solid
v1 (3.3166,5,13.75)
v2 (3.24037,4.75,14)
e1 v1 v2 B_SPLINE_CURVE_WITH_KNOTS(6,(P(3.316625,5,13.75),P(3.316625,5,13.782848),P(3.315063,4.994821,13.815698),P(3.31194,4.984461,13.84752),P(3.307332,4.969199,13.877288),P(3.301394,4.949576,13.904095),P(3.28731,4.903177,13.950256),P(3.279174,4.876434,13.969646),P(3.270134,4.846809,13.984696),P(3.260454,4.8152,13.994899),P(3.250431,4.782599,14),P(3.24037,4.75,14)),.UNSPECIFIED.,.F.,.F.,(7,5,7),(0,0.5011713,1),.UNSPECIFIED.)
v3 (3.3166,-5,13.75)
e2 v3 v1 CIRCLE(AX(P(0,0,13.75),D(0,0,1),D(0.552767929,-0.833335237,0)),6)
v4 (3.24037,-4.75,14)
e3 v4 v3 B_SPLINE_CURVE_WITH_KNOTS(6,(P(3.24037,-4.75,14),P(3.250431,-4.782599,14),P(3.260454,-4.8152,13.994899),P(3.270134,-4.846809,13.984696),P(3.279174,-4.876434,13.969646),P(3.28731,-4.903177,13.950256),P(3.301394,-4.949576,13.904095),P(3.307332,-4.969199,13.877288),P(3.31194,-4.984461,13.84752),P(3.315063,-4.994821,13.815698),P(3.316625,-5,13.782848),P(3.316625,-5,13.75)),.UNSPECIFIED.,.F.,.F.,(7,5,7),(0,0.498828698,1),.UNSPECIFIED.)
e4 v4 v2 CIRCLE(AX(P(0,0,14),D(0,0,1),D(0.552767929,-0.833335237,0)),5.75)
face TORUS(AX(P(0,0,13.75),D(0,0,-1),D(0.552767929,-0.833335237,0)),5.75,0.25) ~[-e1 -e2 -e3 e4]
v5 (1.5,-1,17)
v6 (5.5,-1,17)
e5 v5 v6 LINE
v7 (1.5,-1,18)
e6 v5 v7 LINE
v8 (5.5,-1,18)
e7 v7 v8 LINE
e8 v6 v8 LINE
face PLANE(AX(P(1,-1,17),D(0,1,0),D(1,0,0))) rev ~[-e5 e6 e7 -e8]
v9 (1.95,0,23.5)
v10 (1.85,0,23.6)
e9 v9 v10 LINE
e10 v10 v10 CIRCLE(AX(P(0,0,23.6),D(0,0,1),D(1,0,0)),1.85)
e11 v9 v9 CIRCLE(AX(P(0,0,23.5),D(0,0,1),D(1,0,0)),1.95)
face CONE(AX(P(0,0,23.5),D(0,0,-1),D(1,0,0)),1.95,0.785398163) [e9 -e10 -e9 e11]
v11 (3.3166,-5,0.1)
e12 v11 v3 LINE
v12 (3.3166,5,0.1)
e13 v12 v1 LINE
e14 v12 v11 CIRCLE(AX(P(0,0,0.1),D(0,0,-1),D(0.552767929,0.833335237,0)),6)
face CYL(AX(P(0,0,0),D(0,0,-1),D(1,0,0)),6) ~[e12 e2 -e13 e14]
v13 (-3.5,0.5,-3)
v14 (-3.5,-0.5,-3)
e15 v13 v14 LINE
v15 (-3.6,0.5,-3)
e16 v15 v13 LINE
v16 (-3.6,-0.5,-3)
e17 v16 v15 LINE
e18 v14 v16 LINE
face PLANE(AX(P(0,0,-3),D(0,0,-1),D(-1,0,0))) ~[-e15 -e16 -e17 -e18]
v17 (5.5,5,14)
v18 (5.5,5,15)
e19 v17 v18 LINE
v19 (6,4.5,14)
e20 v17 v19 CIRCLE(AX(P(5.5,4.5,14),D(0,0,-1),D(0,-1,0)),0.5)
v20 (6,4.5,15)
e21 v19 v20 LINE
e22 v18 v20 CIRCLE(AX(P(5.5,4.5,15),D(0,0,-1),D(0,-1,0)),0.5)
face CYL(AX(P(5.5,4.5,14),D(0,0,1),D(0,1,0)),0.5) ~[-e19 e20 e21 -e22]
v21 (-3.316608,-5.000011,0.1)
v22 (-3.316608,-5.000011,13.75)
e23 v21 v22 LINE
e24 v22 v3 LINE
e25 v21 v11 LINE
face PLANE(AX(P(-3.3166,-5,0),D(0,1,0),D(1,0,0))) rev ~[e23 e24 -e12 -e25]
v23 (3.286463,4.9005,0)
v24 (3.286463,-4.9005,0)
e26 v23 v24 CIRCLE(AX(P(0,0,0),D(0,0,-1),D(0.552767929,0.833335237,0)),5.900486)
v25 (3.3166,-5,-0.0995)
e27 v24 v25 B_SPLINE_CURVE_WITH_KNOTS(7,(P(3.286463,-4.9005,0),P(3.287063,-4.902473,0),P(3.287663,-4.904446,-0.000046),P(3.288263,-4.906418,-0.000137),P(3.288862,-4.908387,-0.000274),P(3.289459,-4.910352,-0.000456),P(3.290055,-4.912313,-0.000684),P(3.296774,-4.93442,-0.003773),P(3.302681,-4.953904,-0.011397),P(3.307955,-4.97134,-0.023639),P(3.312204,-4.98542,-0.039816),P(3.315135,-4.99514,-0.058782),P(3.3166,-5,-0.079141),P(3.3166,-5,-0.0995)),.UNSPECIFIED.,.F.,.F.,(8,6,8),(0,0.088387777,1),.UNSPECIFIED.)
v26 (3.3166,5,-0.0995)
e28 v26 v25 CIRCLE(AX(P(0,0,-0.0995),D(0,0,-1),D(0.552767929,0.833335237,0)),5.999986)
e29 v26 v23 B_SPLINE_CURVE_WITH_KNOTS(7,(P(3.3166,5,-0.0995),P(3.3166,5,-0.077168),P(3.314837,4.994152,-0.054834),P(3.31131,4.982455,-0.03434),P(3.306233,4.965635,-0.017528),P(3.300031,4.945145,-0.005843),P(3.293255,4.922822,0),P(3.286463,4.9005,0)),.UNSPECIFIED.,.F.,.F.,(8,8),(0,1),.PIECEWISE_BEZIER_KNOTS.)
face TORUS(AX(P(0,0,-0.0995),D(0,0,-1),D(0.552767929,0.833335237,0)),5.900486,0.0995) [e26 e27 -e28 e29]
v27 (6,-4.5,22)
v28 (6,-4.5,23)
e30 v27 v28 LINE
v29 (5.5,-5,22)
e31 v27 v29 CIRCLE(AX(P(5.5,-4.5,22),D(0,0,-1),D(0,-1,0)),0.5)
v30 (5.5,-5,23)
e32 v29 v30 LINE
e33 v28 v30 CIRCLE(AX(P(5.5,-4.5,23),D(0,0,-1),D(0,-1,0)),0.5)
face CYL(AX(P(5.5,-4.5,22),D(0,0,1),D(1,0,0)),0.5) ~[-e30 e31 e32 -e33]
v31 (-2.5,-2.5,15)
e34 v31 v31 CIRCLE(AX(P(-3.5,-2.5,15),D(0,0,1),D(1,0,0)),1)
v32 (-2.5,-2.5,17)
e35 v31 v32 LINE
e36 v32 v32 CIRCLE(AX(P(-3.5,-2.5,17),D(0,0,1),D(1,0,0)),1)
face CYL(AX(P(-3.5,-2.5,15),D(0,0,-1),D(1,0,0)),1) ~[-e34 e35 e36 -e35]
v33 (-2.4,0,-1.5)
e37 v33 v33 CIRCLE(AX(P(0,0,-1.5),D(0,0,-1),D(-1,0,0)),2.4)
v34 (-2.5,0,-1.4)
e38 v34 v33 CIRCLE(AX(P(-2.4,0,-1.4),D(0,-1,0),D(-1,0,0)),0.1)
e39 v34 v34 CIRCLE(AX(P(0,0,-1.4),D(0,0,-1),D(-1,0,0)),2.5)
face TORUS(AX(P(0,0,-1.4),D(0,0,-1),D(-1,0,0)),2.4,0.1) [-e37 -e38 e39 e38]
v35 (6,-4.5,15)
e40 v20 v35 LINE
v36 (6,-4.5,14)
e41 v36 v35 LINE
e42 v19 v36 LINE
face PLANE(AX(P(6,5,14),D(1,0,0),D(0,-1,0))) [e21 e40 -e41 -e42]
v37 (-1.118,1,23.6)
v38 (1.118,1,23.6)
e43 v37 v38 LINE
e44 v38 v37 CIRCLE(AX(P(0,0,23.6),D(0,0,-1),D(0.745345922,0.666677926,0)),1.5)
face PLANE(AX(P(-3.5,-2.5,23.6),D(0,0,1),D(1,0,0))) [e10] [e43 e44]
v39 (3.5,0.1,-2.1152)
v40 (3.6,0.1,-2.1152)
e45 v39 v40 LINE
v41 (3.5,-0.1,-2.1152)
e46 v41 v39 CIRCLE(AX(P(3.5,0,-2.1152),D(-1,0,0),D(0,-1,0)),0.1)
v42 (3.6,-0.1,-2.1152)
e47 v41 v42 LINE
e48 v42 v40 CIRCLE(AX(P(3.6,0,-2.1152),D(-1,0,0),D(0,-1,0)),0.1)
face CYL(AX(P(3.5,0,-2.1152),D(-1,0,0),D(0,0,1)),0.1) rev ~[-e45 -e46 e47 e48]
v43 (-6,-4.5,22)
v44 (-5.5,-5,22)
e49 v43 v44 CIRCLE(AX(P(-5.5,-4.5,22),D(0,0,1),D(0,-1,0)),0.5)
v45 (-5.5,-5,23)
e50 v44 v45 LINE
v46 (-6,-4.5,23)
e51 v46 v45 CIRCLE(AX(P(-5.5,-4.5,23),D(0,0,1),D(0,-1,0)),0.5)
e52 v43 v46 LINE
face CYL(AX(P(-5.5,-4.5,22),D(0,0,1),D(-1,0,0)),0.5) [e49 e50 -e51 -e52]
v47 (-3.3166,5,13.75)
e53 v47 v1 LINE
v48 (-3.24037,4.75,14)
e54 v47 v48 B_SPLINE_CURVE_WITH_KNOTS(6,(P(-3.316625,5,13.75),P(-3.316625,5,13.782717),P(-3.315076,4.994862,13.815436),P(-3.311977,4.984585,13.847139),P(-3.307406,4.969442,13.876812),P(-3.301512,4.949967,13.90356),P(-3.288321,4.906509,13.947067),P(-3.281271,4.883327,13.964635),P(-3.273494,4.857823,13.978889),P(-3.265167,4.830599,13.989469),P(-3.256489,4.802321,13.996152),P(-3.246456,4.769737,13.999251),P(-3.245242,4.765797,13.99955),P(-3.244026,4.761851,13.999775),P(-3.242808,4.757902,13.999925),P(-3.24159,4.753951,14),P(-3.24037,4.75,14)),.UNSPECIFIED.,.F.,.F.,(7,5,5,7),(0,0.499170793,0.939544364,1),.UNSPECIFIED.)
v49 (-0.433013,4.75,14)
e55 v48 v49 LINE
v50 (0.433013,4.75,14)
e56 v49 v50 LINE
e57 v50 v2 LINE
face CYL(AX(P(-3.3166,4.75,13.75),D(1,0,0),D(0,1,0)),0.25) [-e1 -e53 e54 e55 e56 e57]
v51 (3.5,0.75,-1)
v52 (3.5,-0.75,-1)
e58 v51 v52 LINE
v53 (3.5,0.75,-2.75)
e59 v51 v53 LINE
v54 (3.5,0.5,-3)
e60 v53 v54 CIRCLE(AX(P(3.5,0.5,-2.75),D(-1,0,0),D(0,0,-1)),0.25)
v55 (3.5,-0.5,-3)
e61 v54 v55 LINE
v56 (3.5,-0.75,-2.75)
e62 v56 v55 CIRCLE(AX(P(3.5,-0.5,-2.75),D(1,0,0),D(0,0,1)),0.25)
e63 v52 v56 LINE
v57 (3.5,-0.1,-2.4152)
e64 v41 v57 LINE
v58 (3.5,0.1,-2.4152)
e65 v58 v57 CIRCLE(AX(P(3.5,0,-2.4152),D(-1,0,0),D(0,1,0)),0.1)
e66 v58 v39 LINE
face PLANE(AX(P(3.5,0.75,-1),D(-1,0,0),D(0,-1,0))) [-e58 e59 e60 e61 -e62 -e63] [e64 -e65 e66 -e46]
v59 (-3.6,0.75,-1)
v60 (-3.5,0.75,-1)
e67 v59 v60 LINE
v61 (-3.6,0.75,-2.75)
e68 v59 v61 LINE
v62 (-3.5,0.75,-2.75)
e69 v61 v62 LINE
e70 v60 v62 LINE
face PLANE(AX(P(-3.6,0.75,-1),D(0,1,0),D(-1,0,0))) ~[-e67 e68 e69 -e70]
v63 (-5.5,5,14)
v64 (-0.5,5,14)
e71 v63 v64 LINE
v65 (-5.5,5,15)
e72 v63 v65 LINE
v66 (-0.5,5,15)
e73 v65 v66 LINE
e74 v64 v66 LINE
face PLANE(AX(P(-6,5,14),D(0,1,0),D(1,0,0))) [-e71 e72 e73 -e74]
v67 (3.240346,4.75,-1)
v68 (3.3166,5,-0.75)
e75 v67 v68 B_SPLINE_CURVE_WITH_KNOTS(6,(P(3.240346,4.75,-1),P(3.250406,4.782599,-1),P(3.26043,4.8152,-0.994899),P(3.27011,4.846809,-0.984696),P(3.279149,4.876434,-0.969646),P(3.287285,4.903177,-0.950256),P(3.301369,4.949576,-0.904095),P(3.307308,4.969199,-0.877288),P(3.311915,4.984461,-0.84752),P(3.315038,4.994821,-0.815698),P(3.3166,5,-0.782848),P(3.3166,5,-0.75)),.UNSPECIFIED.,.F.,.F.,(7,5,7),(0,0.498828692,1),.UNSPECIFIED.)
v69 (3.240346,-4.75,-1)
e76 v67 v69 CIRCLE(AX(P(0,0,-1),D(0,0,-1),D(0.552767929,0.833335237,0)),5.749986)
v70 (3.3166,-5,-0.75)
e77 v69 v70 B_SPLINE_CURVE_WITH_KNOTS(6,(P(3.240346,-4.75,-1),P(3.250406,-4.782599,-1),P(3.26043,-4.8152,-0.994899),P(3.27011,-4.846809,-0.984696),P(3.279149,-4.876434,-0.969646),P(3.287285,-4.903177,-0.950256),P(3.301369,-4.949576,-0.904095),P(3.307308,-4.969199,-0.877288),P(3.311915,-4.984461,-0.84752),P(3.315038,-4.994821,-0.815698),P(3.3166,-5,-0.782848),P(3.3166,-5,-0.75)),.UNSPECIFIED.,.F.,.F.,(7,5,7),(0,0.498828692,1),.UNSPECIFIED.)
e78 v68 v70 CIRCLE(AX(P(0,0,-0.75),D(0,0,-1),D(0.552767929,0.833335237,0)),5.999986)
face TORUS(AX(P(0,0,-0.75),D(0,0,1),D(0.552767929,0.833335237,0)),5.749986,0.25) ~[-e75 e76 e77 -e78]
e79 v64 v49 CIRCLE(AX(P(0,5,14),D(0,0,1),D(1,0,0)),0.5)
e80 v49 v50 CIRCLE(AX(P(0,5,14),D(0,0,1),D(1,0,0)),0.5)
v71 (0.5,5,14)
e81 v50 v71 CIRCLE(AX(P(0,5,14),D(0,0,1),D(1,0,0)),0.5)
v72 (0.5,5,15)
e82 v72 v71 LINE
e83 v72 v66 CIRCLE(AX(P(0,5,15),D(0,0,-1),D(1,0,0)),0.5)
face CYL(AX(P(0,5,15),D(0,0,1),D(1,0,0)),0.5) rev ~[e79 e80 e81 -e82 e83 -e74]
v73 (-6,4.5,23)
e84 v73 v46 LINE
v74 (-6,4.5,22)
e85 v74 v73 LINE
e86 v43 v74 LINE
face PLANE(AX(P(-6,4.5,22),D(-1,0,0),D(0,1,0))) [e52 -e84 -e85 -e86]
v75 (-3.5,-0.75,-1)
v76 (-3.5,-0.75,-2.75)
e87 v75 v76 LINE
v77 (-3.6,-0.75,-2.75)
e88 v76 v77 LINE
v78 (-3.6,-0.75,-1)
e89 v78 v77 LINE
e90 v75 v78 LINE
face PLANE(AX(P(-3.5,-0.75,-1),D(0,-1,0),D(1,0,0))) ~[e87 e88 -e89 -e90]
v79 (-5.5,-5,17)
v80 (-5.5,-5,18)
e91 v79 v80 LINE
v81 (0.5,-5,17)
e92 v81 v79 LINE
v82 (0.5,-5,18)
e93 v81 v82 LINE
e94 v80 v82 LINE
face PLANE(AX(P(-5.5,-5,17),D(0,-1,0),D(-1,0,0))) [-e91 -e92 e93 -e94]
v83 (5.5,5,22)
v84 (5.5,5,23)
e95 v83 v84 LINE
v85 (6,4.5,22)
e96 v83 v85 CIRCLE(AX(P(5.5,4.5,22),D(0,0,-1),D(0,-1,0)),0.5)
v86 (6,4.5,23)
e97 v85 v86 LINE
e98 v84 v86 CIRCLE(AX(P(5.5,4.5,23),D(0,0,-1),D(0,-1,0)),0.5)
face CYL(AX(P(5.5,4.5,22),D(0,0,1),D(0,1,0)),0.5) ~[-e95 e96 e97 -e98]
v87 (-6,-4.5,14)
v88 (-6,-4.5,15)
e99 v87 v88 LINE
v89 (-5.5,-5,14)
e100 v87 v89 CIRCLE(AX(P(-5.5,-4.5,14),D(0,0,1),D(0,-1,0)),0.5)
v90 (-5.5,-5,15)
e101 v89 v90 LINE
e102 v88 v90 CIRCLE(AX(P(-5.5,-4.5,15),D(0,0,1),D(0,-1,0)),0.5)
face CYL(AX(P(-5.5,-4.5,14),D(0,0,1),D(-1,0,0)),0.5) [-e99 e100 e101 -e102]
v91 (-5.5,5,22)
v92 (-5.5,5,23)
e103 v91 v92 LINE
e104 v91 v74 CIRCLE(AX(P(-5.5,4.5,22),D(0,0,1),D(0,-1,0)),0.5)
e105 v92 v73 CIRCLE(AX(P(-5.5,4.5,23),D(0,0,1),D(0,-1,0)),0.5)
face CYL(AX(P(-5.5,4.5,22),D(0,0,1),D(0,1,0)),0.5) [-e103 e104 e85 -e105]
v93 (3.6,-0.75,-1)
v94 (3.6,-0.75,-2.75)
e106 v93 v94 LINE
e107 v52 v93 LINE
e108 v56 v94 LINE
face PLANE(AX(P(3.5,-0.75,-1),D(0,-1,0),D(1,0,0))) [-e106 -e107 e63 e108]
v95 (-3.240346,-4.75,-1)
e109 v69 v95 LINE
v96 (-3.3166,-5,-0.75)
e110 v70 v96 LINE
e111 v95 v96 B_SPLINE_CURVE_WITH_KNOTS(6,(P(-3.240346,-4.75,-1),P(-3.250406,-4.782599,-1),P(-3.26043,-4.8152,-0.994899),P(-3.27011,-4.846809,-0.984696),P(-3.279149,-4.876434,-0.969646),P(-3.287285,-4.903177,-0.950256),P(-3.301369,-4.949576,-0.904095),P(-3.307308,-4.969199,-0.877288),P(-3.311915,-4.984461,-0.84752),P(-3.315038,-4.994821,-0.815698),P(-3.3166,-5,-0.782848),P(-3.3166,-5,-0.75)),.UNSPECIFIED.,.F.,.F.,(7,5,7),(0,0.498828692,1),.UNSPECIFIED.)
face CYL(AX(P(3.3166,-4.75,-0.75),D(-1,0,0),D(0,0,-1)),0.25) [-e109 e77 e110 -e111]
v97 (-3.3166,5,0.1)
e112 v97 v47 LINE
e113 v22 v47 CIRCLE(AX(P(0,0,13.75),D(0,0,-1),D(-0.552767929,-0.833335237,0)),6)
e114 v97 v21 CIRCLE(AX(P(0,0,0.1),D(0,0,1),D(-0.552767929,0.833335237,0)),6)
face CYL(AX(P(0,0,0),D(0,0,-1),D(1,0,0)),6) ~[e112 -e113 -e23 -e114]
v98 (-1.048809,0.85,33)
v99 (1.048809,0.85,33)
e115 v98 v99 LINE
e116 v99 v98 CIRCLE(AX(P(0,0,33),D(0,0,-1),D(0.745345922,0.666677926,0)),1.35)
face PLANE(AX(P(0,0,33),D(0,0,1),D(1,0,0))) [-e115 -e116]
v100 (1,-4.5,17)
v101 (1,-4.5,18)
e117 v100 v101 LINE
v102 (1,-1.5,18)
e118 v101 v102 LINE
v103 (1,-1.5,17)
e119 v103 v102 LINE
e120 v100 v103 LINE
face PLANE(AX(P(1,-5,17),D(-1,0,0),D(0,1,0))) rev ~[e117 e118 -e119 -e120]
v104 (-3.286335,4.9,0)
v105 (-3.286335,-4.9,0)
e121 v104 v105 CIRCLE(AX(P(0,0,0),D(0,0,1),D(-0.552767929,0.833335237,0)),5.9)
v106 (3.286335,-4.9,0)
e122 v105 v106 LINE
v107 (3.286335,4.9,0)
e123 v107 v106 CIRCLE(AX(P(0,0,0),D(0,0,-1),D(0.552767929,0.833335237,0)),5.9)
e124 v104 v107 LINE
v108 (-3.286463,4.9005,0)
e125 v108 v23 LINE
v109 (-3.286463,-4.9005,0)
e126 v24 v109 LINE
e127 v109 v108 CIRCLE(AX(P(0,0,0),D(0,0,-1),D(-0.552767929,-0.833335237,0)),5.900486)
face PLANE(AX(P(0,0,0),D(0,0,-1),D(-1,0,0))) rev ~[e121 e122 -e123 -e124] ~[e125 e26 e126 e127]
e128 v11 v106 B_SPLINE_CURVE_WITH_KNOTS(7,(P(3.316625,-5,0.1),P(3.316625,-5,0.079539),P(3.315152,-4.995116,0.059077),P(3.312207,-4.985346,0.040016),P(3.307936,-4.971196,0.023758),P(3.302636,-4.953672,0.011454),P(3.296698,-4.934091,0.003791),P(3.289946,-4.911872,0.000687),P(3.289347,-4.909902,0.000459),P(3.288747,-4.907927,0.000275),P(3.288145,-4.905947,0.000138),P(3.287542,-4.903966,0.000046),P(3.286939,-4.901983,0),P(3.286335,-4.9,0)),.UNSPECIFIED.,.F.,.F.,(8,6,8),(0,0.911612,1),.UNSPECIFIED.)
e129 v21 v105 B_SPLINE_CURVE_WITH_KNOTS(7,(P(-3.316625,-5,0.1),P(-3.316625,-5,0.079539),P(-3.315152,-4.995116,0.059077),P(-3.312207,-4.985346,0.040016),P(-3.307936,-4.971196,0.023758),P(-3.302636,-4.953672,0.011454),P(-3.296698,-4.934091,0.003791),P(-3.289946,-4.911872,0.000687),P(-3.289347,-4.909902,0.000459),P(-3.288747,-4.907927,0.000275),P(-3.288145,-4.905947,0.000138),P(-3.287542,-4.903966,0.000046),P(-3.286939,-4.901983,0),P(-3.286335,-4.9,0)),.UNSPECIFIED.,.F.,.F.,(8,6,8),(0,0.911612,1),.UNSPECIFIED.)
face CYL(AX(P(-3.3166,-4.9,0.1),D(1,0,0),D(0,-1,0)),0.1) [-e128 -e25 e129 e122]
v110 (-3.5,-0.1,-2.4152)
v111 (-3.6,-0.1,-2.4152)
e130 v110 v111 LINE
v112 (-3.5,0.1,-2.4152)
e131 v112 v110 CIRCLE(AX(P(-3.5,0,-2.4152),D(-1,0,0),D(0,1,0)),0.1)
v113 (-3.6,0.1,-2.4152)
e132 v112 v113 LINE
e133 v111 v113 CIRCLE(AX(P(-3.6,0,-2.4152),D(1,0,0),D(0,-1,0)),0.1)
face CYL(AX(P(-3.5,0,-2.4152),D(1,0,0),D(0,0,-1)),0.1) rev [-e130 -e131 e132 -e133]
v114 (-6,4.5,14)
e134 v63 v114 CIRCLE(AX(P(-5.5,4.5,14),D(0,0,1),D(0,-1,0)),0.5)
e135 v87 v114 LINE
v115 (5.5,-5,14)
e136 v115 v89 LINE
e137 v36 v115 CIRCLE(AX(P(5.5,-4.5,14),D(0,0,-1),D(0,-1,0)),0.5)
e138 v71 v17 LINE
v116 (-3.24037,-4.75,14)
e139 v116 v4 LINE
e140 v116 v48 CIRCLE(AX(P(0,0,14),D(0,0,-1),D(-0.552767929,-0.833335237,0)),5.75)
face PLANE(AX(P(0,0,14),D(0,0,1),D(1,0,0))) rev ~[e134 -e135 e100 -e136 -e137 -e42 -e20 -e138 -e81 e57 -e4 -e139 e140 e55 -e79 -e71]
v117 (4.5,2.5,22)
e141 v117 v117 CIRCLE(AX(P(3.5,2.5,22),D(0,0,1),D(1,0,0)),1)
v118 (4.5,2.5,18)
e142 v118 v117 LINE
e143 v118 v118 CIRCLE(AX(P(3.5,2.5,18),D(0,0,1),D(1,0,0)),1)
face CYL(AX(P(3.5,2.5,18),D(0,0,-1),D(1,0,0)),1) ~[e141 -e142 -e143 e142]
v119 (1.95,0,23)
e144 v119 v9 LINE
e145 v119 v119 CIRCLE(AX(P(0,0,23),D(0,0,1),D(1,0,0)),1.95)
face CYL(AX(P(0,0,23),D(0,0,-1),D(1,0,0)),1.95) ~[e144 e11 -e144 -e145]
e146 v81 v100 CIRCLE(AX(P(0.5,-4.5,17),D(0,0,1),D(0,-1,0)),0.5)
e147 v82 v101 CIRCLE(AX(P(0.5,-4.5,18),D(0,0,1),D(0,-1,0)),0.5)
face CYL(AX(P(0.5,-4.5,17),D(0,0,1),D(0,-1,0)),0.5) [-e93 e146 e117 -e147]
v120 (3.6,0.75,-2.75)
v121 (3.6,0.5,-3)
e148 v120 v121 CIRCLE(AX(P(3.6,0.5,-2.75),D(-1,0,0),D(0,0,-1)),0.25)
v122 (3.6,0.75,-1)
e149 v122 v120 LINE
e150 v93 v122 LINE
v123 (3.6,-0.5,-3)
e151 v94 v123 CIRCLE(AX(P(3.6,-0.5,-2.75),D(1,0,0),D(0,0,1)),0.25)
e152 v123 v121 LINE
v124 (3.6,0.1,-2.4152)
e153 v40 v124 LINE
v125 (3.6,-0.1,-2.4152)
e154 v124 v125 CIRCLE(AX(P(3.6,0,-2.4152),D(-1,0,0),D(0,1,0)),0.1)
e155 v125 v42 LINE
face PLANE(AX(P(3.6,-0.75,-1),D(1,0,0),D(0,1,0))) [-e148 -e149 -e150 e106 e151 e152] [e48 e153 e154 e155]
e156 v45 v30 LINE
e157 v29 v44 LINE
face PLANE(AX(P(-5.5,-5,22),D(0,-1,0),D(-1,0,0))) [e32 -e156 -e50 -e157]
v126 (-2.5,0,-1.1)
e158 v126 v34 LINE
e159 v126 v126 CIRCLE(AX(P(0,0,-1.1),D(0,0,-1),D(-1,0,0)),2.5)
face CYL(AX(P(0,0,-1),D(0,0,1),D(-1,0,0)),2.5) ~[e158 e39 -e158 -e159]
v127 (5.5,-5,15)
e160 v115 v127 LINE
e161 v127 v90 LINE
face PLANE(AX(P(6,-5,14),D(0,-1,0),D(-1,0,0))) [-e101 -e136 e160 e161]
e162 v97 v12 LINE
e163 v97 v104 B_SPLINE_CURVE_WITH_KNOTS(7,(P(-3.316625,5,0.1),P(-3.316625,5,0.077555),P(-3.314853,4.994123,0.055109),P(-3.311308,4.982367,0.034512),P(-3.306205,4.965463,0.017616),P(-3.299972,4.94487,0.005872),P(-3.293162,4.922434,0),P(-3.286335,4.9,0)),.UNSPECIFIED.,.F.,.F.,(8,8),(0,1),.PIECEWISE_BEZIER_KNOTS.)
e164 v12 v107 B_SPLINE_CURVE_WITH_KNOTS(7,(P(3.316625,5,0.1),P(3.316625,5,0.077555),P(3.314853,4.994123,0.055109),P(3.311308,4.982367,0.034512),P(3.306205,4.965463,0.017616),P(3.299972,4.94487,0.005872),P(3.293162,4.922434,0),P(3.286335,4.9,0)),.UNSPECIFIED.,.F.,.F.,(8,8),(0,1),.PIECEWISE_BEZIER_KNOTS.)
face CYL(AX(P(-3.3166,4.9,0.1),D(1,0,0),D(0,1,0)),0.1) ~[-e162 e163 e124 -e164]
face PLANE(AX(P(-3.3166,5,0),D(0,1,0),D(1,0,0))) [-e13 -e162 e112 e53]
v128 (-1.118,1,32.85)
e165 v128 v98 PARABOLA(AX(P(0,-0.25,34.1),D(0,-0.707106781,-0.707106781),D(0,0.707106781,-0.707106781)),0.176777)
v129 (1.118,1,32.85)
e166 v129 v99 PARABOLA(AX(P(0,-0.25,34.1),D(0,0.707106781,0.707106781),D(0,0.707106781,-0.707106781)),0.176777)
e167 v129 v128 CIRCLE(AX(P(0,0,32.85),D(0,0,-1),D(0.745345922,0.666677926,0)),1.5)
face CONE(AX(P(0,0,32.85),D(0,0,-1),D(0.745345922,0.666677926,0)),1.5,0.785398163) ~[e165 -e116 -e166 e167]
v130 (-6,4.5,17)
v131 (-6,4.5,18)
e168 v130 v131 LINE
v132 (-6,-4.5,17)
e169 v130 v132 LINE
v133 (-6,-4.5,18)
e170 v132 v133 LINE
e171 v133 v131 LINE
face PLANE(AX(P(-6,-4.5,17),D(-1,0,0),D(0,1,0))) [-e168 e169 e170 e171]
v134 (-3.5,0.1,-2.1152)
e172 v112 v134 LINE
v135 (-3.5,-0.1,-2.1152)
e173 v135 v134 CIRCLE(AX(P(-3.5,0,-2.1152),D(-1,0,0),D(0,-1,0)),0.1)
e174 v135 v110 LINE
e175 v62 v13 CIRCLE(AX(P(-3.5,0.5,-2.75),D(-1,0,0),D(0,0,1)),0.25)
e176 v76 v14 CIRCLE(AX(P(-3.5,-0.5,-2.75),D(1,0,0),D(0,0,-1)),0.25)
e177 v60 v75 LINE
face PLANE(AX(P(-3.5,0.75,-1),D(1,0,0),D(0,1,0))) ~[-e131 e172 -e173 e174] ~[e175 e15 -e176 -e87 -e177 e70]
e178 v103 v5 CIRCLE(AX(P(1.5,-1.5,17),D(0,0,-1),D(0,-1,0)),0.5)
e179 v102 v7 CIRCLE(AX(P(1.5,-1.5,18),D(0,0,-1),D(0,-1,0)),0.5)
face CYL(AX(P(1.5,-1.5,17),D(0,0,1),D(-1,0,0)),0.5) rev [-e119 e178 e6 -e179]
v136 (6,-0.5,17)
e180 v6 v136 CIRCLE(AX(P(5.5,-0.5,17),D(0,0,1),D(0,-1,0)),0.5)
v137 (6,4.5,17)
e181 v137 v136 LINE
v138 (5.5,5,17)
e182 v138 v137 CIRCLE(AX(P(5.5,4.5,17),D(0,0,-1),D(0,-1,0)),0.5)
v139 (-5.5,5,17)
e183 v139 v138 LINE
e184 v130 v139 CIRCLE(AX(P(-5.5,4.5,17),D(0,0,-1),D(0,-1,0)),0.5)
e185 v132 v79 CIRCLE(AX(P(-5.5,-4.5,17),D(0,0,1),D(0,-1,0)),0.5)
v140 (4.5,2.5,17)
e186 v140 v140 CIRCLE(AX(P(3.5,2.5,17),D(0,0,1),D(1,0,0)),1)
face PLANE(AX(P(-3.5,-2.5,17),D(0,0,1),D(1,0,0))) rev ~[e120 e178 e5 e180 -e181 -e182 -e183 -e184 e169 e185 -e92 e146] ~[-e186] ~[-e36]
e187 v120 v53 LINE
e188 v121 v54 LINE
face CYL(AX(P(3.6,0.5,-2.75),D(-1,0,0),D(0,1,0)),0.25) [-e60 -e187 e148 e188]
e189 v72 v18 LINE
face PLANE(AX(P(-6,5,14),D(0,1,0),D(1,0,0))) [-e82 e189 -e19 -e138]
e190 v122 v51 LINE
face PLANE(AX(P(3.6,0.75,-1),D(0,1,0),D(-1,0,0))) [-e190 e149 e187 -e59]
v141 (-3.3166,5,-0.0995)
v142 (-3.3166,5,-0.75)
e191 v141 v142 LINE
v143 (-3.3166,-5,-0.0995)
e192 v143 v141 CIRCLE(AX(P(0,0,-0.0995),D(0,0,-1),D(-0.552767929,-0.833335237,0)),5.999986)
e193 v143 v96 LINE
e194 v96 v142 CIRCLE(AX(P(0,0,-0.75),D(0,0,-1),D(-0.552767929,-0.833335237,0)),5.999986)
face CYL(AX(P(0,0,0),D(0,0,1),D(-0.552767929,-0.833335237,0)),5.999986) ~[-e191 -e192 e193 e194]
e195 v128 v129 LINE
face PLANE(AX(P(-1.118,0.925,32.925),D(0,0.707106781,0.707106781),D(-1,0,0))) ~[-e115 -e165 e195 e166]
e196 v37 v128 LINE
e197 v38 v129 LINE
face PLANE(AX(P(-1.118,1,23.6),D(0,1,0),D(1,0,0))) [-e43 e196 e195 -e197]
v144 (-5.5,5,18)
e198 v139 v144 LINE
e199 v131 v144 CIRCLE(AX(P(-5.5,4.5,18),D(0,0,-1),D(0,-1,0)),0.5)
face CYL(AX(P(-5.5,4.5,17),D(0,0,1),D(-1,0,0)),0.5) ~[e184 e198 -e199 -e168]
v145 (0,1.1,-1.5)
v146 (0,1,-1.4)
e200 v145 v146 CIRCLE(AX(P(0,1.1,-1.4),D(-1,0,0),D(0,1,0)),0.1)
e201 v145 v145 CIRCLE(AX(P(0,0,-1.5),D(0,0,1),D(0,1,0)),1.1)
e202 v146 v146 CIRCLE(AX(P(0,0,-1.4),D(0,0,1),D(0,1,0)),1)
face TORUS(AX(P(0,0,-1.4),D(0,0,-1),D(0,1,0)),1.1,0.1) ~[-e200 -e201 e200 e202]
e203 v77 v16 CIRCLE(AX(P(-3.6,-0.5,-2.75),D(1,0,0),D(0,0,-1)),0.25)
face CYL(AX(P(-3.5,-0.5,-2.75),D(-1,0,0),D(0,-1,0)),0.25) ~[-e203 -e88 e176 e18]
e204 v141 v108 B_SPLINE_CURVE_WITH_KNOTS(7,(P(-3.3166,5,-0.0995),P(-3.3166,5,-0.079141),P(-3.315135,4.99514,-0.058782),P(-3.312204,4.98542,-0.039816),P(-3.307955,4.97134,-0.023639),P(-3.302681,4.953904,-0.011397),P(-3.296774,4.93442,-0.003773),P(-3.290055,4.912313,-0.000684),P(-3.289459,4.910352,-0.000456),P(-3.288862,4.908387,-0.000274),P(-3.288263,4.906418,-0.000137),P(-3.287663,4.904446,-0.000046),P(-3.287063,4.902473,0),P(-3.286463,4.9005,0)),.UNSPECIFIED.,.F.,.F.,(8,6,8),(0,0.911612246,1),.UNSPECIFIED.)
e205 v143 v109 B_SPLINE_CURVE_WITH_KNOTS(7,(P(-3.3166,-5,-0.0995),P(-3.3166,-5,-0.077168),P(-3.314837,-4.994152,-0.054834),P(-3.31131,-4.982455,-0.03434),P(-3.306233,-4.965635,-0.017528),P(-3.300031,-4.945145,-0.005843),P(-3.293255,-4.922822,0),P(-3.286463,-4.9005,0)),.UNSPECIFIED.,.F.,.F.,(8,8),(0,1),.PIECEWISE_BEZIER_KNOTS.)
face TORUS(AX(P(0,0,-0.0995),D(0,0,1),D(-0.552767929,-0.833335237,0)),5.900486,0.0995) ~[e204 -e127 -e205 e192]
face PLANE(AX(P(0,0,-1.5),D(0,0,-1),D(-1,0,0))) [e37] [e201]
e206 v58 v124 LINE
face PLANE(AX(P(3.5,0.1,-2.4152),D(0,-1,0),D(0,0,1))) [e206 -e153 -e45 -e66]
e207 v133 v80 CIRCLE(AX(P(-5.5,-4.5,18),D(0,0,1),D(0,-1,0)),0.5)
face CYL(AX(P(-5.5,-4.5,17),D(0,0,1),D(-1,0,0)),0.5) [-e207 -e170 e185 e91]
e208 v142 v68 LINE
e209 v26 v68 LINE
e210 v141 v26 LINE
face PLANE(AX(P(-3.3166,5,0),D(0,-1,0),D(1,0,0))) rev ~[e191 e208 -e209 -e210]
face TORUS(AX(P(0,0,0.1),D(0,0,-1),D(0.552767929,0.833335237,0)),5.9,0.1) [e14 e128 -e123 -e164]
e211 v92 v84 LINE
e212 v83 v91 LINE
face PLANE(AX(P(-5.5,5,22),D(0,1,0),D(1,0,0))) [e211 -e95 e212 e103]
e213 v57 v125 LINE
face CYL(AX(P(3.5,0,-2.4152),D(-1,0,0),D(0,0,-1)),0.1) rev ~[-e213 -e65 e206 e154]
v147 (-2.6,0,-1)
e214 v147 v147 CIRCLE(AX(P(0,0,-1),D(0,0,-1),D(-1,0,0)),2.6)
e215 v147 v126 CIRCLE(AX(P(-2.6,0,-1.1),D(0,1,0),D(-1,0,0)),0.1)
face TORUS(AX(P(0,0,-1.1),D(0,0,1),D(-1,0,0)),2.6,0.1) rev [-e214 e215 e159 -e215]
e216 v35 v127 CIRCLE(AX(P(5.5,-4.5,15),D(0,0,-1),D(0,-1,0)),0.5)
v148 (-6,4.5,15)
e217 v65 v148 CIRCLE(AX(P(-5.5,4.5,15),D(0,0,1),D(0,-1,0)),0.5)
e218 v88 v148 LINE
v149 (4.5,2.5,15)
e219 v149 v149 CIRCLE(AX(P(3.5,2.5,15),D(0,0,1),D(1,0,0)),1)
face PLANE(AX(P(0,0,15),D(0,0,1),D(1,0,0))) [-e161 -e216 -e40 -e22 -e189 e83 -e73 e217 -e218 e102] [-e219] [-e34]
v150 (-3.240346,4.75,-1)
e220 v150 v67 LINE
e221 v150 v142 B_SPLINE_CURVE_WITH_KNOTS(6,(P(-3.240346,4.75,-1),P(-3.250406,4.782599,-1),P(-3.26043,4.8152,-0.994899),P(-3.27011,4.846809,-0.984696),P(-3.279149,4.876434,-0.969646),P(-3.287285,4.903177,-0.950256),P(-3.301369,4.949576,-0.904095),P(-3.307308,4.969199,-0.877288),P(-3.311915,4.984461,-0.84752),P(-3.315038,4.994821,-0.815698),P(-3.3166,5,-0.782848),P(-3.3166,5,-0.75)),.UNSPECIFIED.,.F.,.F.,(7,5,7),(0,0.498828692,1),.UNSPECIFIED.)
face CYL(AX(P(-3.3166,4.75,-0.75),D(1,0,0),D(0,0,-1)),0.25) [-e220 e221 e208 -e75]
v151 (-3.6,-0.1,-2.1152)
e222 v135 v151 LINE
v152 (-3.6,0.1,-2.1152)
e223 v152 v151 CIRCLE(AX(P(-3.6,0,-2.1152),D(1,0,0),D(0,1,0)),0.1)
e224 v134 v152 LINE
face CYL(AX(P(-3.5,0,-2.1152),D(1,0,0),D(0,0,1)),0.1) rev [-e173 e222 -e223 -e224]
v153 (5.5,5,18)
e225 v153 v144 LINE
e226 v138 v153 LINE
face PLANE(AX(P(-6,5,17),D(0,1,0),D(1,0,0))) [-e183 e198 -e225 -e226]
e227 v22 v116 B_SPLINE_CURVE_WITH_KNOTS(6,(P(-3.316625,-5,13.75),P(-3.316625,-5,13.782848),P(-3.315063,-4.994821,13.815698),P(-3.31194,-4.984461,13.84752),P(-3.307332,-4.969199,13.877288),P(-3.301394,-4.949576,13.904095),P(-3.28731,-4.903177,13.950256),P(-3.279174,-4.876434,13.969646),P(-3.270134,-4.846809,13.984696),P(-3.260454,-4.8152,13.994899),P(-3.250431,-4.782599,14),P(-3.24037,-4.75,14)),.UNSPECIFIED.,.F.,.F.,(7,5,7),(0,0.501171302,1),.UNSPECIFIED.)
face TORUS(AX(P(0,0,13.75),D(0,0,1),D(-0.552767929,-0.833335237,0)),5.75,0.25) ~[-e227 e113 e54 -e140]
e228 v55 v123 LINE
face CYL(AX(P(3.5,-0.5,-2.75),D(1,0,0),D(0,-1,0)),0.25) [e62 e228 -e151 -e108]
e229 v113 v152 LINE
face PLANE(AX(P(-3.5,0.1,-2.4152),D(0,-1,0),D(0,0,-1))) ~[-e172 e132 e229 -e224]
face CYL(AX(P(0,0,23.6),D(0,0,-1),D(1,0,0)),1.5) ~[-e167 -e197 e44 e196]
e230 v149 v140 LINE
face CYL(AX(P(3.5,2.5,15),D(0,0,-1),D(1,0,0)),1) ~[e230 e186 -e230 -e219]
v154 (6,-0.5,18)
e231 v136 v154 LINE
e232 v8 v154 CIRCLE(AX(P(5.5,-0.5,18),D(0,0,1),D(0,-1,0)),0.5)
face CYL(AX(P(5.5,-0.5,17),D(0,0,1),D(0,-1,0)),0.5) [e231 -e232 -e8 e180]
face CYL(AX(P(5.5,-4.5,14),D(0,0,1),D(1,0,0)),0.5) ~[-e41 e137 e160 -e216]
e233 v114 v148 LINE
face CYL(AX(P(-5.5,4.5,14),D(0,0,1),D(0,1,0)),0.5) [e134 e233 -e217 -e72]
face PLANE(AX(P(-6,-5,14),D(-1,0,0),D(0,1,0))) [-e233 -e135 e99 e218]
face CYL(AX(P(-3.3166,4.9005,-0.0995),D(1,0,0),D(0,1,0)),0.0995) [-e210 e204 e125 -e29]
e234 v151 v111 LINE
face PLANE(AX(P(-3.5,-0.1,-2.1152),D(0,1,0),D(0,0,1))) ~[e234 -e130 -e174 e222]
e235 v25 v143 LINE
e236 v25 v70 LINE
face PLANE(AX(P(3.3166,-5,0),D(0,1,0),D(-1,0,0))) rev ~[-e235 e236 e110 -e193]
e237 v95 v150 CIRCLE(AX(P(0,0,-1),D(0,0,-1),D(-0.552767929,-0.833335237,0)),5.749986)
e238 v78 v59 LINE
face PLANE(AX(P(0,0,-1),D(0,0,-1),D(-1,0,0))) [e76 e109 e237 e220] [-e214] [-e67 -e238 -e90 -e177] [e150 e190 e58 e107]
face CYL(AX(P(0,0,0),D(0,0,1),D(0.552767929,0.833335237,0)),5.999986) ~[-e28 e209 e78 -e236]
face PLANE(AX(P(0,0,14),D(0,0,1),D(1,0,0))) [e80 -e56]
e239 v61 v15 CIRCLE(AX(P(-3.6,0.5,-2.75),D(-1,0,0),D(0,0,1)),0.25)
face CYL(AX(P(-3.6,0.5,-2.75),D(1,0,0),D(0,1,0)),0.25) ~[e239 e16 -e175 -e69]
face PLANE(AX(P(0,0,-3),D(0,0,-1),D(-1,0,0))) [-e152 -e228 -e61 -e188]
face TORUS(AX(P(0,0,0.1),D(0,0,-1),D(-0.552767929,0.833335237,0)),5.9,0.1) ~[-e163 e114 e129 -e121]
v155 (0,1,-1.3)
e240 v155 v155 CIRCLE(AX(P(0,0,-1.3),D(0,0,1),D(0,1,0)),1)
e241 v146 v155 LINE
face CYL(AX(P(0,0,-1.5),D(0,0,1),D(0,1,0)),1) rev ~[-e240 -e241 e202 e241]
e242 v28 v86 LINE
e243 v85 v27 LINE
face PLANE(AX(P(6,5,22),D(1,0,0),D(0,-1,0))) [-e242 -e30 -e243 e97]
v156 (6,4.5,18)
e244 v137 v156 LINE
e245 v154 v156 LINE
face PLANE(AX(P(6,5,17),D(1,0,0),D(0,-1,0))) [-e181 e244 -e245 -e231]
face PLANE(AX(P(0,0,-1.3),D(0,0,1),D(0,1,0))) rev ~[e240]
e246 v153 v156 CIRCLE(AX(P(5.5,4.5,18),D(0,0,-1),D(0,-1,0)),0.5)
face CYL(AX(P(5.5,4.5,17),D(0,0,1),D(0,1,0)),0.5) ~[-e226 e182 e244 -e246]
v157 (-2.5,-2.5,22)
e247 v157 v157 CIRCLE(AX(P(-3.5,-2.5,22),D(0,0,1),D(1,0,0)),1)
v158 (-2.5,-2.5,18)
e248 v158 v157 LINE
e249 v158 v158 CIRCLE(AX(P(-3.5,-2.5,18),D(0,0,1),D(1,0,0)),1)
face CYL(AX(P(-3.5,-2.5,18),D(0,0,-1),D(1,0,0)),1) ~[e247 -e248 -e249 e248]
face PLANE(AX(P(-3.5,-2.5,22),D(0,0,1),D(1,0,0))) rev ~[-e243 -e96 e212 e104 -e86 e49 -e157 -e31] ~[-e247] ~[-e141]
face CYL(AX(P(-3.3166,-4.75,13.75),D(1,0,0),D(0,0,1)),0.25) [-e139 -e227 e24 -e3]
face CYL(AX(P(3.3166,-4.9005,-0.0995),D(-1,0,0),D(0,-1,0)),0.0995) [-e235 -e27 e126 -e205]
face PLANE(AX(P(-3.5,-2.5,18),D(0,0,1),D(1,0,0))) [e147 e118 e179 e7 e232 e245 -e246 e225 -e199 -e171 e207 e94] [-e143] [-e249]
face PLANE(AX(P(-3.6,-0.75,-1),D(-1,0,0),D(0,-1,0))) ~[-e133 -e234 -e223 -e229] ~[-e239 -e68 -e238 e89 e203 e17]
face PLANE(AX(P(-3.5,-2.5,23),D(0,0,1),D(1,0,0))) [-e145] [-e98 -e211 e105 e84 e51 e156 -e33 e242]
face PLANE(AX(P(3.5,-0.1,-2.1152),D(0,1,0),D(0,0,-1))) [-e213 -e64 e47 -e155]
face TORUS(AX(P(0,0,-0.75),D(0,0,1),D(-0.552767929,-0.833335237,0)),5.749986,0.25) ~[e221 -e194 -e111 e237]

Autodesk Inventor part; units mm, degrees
ref_plane "YZ Plane" through (0, 0, 0) normal (1, 0, 0) x (0, 1, 0)
ref_plane "XZ Plane" through (0, 0, 0) normal (0, 1, 0) x (-1, 0, 0)
ref_plane "XY Plane" through (0, 0, 0) normal (0, 0, 1) x (1, 0, 0)
sketch "Szkic1" plane through (0, 0, 0) normal (0, 0, 1) x (1, 0, 0)
  circle A0 centre (0, 0) radius 6
  line L0 (-3.3166, 5) -> (3.3166, 5)
  line L1 (-3.3166, -5) -> (3.3166, -5)
  line L2 (-6, 0) -> (6, 0)
  dimension "d0" = 12
  dimension "d1" = 10
extrude "Wyciągnięcie proste1" add sketch "Szkic1" along normal blind 14 contours L2 A0 L0 | A0 L1 L2
fillet "Zaokrąglenie2" radius 0.25 4 edges at (0, 5, 14) (-6, 0, 14) (0, -5, 14) (6, 0, 14)
sketch "Szkic2" plane through (0, 0, 14) normal (0, 0, 1) x (1, 0, 0)
  line L0 (-6, 5) -> (6, 5)
  line L1 (6, 5) -> (6, -5)
  line L2 (6, -5) -> (-6, -5)
  line L3 (-6, -5) -> (-6, 5)
extrude "Wyciągnięcie proste2" add sketch "Szkic2" along normal blind 1
fillet "Zaokrąglenie1" radius 0.5 4 edges at (-6, 5, 14.5) (-6, -5, 14.5) (6, -5, 14.5) (6, 5, 14.5)
sketch "Szkic3" plane through (0, 0, 15) normal (0, 0, 1) x (1, 0, 0)
  line L0 (-5.5, 5) -> (5.5, 5) projected
  circle A0 centre (0, 5) radius 0.5
  point P0 (0, 0)
  dimension "d7" = 1
extrude "Wyciągnięcie proste3" cut sketch "Szkic3" against normal blind 1
sketch "Szkic4" plane through (0, 0, 15) normal (0, 0, 1) x (1, 0, 0)
  line L0 (-6, -4.5) -> (-6, 4.5) projected
  line L1 (5.5, -5) -> (-5.5, -5) projected
  line L2 (6, 4.5) -> (6, -4.5) projected
  line L3 (0.5, 5) -> (5.5, 5) projected
  circle A0 centre (-3.5, -2.5) radius 1
  circle A1 centre (3.5, 2.5) radius 1
  point P0 (0, 0)
  dimension "d11" = 2
  dimension "d12" = 2
  dimension "d13" = 2.5
  dimension "d14" = 2.5
  dimension "d15" = 2.5
  dimension "d16" = 2.5
extrude "Wyciągnięcie proste4" add sketch "Szkic4" along normal blind 2
sketch "Szkic5" plane through (-3.5, -2.5, 17) normal (0, 0, 1) x (1, 0, 0)
  line L0 (-2.5, -2) -> (-2.5, 7) projected
  line L1 (-2, 7.5) -> (3, 7.5) projected
  line L2 (9, -2.5) -> (-2, -2.5) projected
  line L3 (9.5, 7) -> (9.5, -2) projected
  line L4 (-2.5, 7.5) -> (9.5, 7.5)
  line L5 (9.5, 7.5) -> (9.5, -2.5)
  line L6 (9.5, -2.5) -> (-2.5, -2.5)
  line L7 (-2.5, -2.5) -> (-2.5, 7.5)
  line L8 (9.5, -2.5) -> (4.5, -2.5)
  line L9 (4.5, -2.5) -> (4.5, 1.5)
  line L10 (4.5, 1.5) -> (9.5, 1.5)
  line L11 (9.5, 1.5) -> (9.5, -2.5)
  point P0 (3.5, 2.5)
  dimension "d19" = 5
  dimension "d20" = 4
extrude "Wyciągnięcie proste5" add sketch "Szkic5" along normal blind 1 contours L0 L7 L4 L1 L5 L3 L10 L9 L2 L6
fillet "Zaokrąglenie3" radius 0.5 6 edges at (-6, -5, 17.5) (-6, 5, 17.5) (1, -5, 17.5) (1, -1, 17.5) (6, -1, 17.5) (6, 5, 17.5)
sketch "Szkic6" plane through (-3.5, -2.5, 18) normal (0, 0, 1) x (1, 0, 0)
  circle A0 centre (0, 0) radius 1 projected
  circle A1 centre (7, 5) radius 1 projected
  circle A2 centre (7, 5) radius 1 projected
  point P0 (3.5, 2.5)
extrude "Wyciągnięcie proste6" add sketch "Szkic6" along normal blind 4
sketch "Szkic7" plane through (-3.5, -2.5, 22) normal (0, 0, 1) x (1, 0, 0)
  line L0 (-2, 7.5) -> (9, 7.5) projected
  line L1 (-2.5, -2) -> (-2.5, 7) projected
  line L2 (4, -2.5) -> (-2, -2.5) projected
  line L3 (9.5, 7) -> (9.5, 2) projected
  line L4 (-2.5, 7.5) -> (9.5, 7.5)
  line L5 (9.5, 7.5) -> (9.5, -2.5)
  line L6 (9.5, -2.5) -> (-2.5, -2.5)
  line L7 (-2.5, -2.5) -> (-2.5, 7.5)
  point P0 (3.5, 2.5)
extrude "Wyciągnięcie proste7" add sketch "Szkic7" along normal blind 1
fillet "Zaokrąglenie4" radius 0.5 4 edges at (-6, 5, 22.5) (-6, -5, 22.5) (6, -5, 22.5) (6, 5, 22.5)
sketch "Szkic8" plane through (-3.5, -2.5, 23) normal (0, 0, 1) x (1, 0, 0)
  circle A0 centre (3.5, 2.5) radius 1.95
  dimension "d29" = 3.9
extrude "Wyciągnięcie proste8" add sketch "Szkic8" along normal blind 0.6
sketch "Szkic9" plane through (0, 0, 23.6) normal (0, 0, 1) x (1, 0, 0)
  circle A0 centre (0, 0) radius 1.95 projected
  circle A1 centre (0, 0) radius 1.5
  line L0 (-1.118, 1) -> (1.118, 1)
  dimension "d32" = 3
  dimension "d33" = 2.5
extrude "Wyciągnięcie proste9" add sketch "Szkic9" along normal blind 9.4 contours A1 L0 picked at (0.0594, 0.1702)
chamfer "Faza1" distance 0.1 angle 45 1 edges at (-1.95, 0, 23.6)
chamfer "Faza2" distance 0.15 angle 45 2 edges at (0, 1, 33) (0, -1.5, 33)
fillet "Zaokrąglenie5" radius 0.1 4 edges at (0, 5, 0) (-6, 0, 0) (0, -5, 0) (6, 0, 0)
sketch "Szkic10" plane through (0, 0, 0) normal (0, 0, -1) x (-1, 0, 0)
  line L0 (3.3166, 5) -> (-3.3166, 5) projected
  arc A0 (-3.3166, 5) -> (-3.3166, -5) centre (0, 0) ccw projected
  arc A1 (3.3166, -5) -> (3.3166, 5) centre (0, 0) ccw projected
  line L1 (-3.3166, -5) -> (3.3166, -5) projected
extrude "Wyciągnięcie proste10" add sketch "Szkic10" along normal blind 1
fillet "Zaokrąglenie6" radius 0.1 4 edges at (0, 5, 0) (-6, 0, 0) (6, 0, 0) (0, -5, 0)
sketch "Szkic11" plane through (0, 0, -1) normal (0, 0, -1) x (-1, 0, 0)
  arc A0 (-3.3166, 5) -> (-3.3166, -5) centre (0, 0) ccw projected
  circle A1 centre (0, 0) radius 2.5
  dimension "d46" = 5
extrude "Wyciągnięcie proste11" add sketch "Szkic11" along normal blind 0.5
hole "Hole1" at (0, 0, -1.5) direction (0, 0, 1) diameter 2 depth 0.2
sketch "Szkic13" plane through (0, 0, -1) normal (0, 0, -1) x (-1, 0, 0)
  circle A0 centre (0, 0) radius 2.5 projected
  line L0 (-3.6, 0.75) -> (-3.5, 0.75)
  line L1 (-3.5, 0.75) -> (-3.5, -0.75)
  line L2 (-3.5, -0.75) -> (-3.6, -0.75)
  line L3 (-3.6, -0.75) -> (-3.6, 0.75)
  point P0 (-3.5, 0)
  dimension "d58" = 0.1
  dimension "d59" = 1.5
  dimension "d60" = 3.5
extrude "Wyciągnięcie proste12" add sketch "Szkic13" along normal blind 2 contours L0 L1 L2 L3
fillet "Zaokrąglenie7" radius 0.25 2 edges at (3.55, 0.75, -3) (3.55, -0.75, -3)
sketch "Szkic14" plane through (3.5, -0.75, -1) normal (-1, 0, 0) x (0, 0, 1)
  line L0 (-2, 1.25) -> (-2, 0.25) projected
  line L1 (-1.4152, 0.85) -> (-1.1152, 0.85)
  line L2 (-1.0152, 0.75) -> (-1.0152, 0.75)
  line L3 (-1.1152, 0.65) -> (-1.4152, 0.65)
  line L4 (-1.5152, 0.75) -> (-1.5152, 0.75)
  arc A0 (-1.4152, 0.85) -> (-1.5152, 0.75) centre (-1.4152, 0.75) ccw
  arc A1 (-1.5152, 0.75) -> (-1.4152, 0.65) centre (-1.4152, 0.75) ccw
  arc A2 (-1.1152, 0.65) -> (-1.0152, 0.75) centre (-1.1152, 0.75) ccw
  arc A3 (-1.0152, 0.75) -> (-1.1152, 0.85) centre (-1.1152, 0.75) ccw
  point P0 (1, 0.75)
  point P1 (-1.0152, 0.65)
  point P2 (-1.0152, 0.85)
  point P3 (-1.5152, 0.65)
  point P4 (-1.5152, 0.75)
  point P5 (-2, 0.75)
  dimension "d64" = 0.5
  dimension "d65" = 0.2
  dimension "d66" = 0.1
extrude "Wyciągnięcie proste13" cut sketch "Szkic14" against normal through all
mirror "Odbicie lustrzane1" about plane through (0, 0, 0) normal (1, 0, 0) of "Wyciągnięcie proste12", "Zaokrąglenie7", "Wyciągnięcie proste13"
fillet "Zaokrąglenie8" radius 0.25 4 edges at (0, 5, -1) (6, 0, -1) (-6, 0, -1) (0, -5, -1)
fillet "Zaokrąglenie9" radius 0.1 2 edges at (2.5, 0, -1) (2.5, 0, -1.5)
fillet "Zaokrąglenie10" radius 0.1 1 edges at (0, -1, -1.5)
properties part number "motor"
